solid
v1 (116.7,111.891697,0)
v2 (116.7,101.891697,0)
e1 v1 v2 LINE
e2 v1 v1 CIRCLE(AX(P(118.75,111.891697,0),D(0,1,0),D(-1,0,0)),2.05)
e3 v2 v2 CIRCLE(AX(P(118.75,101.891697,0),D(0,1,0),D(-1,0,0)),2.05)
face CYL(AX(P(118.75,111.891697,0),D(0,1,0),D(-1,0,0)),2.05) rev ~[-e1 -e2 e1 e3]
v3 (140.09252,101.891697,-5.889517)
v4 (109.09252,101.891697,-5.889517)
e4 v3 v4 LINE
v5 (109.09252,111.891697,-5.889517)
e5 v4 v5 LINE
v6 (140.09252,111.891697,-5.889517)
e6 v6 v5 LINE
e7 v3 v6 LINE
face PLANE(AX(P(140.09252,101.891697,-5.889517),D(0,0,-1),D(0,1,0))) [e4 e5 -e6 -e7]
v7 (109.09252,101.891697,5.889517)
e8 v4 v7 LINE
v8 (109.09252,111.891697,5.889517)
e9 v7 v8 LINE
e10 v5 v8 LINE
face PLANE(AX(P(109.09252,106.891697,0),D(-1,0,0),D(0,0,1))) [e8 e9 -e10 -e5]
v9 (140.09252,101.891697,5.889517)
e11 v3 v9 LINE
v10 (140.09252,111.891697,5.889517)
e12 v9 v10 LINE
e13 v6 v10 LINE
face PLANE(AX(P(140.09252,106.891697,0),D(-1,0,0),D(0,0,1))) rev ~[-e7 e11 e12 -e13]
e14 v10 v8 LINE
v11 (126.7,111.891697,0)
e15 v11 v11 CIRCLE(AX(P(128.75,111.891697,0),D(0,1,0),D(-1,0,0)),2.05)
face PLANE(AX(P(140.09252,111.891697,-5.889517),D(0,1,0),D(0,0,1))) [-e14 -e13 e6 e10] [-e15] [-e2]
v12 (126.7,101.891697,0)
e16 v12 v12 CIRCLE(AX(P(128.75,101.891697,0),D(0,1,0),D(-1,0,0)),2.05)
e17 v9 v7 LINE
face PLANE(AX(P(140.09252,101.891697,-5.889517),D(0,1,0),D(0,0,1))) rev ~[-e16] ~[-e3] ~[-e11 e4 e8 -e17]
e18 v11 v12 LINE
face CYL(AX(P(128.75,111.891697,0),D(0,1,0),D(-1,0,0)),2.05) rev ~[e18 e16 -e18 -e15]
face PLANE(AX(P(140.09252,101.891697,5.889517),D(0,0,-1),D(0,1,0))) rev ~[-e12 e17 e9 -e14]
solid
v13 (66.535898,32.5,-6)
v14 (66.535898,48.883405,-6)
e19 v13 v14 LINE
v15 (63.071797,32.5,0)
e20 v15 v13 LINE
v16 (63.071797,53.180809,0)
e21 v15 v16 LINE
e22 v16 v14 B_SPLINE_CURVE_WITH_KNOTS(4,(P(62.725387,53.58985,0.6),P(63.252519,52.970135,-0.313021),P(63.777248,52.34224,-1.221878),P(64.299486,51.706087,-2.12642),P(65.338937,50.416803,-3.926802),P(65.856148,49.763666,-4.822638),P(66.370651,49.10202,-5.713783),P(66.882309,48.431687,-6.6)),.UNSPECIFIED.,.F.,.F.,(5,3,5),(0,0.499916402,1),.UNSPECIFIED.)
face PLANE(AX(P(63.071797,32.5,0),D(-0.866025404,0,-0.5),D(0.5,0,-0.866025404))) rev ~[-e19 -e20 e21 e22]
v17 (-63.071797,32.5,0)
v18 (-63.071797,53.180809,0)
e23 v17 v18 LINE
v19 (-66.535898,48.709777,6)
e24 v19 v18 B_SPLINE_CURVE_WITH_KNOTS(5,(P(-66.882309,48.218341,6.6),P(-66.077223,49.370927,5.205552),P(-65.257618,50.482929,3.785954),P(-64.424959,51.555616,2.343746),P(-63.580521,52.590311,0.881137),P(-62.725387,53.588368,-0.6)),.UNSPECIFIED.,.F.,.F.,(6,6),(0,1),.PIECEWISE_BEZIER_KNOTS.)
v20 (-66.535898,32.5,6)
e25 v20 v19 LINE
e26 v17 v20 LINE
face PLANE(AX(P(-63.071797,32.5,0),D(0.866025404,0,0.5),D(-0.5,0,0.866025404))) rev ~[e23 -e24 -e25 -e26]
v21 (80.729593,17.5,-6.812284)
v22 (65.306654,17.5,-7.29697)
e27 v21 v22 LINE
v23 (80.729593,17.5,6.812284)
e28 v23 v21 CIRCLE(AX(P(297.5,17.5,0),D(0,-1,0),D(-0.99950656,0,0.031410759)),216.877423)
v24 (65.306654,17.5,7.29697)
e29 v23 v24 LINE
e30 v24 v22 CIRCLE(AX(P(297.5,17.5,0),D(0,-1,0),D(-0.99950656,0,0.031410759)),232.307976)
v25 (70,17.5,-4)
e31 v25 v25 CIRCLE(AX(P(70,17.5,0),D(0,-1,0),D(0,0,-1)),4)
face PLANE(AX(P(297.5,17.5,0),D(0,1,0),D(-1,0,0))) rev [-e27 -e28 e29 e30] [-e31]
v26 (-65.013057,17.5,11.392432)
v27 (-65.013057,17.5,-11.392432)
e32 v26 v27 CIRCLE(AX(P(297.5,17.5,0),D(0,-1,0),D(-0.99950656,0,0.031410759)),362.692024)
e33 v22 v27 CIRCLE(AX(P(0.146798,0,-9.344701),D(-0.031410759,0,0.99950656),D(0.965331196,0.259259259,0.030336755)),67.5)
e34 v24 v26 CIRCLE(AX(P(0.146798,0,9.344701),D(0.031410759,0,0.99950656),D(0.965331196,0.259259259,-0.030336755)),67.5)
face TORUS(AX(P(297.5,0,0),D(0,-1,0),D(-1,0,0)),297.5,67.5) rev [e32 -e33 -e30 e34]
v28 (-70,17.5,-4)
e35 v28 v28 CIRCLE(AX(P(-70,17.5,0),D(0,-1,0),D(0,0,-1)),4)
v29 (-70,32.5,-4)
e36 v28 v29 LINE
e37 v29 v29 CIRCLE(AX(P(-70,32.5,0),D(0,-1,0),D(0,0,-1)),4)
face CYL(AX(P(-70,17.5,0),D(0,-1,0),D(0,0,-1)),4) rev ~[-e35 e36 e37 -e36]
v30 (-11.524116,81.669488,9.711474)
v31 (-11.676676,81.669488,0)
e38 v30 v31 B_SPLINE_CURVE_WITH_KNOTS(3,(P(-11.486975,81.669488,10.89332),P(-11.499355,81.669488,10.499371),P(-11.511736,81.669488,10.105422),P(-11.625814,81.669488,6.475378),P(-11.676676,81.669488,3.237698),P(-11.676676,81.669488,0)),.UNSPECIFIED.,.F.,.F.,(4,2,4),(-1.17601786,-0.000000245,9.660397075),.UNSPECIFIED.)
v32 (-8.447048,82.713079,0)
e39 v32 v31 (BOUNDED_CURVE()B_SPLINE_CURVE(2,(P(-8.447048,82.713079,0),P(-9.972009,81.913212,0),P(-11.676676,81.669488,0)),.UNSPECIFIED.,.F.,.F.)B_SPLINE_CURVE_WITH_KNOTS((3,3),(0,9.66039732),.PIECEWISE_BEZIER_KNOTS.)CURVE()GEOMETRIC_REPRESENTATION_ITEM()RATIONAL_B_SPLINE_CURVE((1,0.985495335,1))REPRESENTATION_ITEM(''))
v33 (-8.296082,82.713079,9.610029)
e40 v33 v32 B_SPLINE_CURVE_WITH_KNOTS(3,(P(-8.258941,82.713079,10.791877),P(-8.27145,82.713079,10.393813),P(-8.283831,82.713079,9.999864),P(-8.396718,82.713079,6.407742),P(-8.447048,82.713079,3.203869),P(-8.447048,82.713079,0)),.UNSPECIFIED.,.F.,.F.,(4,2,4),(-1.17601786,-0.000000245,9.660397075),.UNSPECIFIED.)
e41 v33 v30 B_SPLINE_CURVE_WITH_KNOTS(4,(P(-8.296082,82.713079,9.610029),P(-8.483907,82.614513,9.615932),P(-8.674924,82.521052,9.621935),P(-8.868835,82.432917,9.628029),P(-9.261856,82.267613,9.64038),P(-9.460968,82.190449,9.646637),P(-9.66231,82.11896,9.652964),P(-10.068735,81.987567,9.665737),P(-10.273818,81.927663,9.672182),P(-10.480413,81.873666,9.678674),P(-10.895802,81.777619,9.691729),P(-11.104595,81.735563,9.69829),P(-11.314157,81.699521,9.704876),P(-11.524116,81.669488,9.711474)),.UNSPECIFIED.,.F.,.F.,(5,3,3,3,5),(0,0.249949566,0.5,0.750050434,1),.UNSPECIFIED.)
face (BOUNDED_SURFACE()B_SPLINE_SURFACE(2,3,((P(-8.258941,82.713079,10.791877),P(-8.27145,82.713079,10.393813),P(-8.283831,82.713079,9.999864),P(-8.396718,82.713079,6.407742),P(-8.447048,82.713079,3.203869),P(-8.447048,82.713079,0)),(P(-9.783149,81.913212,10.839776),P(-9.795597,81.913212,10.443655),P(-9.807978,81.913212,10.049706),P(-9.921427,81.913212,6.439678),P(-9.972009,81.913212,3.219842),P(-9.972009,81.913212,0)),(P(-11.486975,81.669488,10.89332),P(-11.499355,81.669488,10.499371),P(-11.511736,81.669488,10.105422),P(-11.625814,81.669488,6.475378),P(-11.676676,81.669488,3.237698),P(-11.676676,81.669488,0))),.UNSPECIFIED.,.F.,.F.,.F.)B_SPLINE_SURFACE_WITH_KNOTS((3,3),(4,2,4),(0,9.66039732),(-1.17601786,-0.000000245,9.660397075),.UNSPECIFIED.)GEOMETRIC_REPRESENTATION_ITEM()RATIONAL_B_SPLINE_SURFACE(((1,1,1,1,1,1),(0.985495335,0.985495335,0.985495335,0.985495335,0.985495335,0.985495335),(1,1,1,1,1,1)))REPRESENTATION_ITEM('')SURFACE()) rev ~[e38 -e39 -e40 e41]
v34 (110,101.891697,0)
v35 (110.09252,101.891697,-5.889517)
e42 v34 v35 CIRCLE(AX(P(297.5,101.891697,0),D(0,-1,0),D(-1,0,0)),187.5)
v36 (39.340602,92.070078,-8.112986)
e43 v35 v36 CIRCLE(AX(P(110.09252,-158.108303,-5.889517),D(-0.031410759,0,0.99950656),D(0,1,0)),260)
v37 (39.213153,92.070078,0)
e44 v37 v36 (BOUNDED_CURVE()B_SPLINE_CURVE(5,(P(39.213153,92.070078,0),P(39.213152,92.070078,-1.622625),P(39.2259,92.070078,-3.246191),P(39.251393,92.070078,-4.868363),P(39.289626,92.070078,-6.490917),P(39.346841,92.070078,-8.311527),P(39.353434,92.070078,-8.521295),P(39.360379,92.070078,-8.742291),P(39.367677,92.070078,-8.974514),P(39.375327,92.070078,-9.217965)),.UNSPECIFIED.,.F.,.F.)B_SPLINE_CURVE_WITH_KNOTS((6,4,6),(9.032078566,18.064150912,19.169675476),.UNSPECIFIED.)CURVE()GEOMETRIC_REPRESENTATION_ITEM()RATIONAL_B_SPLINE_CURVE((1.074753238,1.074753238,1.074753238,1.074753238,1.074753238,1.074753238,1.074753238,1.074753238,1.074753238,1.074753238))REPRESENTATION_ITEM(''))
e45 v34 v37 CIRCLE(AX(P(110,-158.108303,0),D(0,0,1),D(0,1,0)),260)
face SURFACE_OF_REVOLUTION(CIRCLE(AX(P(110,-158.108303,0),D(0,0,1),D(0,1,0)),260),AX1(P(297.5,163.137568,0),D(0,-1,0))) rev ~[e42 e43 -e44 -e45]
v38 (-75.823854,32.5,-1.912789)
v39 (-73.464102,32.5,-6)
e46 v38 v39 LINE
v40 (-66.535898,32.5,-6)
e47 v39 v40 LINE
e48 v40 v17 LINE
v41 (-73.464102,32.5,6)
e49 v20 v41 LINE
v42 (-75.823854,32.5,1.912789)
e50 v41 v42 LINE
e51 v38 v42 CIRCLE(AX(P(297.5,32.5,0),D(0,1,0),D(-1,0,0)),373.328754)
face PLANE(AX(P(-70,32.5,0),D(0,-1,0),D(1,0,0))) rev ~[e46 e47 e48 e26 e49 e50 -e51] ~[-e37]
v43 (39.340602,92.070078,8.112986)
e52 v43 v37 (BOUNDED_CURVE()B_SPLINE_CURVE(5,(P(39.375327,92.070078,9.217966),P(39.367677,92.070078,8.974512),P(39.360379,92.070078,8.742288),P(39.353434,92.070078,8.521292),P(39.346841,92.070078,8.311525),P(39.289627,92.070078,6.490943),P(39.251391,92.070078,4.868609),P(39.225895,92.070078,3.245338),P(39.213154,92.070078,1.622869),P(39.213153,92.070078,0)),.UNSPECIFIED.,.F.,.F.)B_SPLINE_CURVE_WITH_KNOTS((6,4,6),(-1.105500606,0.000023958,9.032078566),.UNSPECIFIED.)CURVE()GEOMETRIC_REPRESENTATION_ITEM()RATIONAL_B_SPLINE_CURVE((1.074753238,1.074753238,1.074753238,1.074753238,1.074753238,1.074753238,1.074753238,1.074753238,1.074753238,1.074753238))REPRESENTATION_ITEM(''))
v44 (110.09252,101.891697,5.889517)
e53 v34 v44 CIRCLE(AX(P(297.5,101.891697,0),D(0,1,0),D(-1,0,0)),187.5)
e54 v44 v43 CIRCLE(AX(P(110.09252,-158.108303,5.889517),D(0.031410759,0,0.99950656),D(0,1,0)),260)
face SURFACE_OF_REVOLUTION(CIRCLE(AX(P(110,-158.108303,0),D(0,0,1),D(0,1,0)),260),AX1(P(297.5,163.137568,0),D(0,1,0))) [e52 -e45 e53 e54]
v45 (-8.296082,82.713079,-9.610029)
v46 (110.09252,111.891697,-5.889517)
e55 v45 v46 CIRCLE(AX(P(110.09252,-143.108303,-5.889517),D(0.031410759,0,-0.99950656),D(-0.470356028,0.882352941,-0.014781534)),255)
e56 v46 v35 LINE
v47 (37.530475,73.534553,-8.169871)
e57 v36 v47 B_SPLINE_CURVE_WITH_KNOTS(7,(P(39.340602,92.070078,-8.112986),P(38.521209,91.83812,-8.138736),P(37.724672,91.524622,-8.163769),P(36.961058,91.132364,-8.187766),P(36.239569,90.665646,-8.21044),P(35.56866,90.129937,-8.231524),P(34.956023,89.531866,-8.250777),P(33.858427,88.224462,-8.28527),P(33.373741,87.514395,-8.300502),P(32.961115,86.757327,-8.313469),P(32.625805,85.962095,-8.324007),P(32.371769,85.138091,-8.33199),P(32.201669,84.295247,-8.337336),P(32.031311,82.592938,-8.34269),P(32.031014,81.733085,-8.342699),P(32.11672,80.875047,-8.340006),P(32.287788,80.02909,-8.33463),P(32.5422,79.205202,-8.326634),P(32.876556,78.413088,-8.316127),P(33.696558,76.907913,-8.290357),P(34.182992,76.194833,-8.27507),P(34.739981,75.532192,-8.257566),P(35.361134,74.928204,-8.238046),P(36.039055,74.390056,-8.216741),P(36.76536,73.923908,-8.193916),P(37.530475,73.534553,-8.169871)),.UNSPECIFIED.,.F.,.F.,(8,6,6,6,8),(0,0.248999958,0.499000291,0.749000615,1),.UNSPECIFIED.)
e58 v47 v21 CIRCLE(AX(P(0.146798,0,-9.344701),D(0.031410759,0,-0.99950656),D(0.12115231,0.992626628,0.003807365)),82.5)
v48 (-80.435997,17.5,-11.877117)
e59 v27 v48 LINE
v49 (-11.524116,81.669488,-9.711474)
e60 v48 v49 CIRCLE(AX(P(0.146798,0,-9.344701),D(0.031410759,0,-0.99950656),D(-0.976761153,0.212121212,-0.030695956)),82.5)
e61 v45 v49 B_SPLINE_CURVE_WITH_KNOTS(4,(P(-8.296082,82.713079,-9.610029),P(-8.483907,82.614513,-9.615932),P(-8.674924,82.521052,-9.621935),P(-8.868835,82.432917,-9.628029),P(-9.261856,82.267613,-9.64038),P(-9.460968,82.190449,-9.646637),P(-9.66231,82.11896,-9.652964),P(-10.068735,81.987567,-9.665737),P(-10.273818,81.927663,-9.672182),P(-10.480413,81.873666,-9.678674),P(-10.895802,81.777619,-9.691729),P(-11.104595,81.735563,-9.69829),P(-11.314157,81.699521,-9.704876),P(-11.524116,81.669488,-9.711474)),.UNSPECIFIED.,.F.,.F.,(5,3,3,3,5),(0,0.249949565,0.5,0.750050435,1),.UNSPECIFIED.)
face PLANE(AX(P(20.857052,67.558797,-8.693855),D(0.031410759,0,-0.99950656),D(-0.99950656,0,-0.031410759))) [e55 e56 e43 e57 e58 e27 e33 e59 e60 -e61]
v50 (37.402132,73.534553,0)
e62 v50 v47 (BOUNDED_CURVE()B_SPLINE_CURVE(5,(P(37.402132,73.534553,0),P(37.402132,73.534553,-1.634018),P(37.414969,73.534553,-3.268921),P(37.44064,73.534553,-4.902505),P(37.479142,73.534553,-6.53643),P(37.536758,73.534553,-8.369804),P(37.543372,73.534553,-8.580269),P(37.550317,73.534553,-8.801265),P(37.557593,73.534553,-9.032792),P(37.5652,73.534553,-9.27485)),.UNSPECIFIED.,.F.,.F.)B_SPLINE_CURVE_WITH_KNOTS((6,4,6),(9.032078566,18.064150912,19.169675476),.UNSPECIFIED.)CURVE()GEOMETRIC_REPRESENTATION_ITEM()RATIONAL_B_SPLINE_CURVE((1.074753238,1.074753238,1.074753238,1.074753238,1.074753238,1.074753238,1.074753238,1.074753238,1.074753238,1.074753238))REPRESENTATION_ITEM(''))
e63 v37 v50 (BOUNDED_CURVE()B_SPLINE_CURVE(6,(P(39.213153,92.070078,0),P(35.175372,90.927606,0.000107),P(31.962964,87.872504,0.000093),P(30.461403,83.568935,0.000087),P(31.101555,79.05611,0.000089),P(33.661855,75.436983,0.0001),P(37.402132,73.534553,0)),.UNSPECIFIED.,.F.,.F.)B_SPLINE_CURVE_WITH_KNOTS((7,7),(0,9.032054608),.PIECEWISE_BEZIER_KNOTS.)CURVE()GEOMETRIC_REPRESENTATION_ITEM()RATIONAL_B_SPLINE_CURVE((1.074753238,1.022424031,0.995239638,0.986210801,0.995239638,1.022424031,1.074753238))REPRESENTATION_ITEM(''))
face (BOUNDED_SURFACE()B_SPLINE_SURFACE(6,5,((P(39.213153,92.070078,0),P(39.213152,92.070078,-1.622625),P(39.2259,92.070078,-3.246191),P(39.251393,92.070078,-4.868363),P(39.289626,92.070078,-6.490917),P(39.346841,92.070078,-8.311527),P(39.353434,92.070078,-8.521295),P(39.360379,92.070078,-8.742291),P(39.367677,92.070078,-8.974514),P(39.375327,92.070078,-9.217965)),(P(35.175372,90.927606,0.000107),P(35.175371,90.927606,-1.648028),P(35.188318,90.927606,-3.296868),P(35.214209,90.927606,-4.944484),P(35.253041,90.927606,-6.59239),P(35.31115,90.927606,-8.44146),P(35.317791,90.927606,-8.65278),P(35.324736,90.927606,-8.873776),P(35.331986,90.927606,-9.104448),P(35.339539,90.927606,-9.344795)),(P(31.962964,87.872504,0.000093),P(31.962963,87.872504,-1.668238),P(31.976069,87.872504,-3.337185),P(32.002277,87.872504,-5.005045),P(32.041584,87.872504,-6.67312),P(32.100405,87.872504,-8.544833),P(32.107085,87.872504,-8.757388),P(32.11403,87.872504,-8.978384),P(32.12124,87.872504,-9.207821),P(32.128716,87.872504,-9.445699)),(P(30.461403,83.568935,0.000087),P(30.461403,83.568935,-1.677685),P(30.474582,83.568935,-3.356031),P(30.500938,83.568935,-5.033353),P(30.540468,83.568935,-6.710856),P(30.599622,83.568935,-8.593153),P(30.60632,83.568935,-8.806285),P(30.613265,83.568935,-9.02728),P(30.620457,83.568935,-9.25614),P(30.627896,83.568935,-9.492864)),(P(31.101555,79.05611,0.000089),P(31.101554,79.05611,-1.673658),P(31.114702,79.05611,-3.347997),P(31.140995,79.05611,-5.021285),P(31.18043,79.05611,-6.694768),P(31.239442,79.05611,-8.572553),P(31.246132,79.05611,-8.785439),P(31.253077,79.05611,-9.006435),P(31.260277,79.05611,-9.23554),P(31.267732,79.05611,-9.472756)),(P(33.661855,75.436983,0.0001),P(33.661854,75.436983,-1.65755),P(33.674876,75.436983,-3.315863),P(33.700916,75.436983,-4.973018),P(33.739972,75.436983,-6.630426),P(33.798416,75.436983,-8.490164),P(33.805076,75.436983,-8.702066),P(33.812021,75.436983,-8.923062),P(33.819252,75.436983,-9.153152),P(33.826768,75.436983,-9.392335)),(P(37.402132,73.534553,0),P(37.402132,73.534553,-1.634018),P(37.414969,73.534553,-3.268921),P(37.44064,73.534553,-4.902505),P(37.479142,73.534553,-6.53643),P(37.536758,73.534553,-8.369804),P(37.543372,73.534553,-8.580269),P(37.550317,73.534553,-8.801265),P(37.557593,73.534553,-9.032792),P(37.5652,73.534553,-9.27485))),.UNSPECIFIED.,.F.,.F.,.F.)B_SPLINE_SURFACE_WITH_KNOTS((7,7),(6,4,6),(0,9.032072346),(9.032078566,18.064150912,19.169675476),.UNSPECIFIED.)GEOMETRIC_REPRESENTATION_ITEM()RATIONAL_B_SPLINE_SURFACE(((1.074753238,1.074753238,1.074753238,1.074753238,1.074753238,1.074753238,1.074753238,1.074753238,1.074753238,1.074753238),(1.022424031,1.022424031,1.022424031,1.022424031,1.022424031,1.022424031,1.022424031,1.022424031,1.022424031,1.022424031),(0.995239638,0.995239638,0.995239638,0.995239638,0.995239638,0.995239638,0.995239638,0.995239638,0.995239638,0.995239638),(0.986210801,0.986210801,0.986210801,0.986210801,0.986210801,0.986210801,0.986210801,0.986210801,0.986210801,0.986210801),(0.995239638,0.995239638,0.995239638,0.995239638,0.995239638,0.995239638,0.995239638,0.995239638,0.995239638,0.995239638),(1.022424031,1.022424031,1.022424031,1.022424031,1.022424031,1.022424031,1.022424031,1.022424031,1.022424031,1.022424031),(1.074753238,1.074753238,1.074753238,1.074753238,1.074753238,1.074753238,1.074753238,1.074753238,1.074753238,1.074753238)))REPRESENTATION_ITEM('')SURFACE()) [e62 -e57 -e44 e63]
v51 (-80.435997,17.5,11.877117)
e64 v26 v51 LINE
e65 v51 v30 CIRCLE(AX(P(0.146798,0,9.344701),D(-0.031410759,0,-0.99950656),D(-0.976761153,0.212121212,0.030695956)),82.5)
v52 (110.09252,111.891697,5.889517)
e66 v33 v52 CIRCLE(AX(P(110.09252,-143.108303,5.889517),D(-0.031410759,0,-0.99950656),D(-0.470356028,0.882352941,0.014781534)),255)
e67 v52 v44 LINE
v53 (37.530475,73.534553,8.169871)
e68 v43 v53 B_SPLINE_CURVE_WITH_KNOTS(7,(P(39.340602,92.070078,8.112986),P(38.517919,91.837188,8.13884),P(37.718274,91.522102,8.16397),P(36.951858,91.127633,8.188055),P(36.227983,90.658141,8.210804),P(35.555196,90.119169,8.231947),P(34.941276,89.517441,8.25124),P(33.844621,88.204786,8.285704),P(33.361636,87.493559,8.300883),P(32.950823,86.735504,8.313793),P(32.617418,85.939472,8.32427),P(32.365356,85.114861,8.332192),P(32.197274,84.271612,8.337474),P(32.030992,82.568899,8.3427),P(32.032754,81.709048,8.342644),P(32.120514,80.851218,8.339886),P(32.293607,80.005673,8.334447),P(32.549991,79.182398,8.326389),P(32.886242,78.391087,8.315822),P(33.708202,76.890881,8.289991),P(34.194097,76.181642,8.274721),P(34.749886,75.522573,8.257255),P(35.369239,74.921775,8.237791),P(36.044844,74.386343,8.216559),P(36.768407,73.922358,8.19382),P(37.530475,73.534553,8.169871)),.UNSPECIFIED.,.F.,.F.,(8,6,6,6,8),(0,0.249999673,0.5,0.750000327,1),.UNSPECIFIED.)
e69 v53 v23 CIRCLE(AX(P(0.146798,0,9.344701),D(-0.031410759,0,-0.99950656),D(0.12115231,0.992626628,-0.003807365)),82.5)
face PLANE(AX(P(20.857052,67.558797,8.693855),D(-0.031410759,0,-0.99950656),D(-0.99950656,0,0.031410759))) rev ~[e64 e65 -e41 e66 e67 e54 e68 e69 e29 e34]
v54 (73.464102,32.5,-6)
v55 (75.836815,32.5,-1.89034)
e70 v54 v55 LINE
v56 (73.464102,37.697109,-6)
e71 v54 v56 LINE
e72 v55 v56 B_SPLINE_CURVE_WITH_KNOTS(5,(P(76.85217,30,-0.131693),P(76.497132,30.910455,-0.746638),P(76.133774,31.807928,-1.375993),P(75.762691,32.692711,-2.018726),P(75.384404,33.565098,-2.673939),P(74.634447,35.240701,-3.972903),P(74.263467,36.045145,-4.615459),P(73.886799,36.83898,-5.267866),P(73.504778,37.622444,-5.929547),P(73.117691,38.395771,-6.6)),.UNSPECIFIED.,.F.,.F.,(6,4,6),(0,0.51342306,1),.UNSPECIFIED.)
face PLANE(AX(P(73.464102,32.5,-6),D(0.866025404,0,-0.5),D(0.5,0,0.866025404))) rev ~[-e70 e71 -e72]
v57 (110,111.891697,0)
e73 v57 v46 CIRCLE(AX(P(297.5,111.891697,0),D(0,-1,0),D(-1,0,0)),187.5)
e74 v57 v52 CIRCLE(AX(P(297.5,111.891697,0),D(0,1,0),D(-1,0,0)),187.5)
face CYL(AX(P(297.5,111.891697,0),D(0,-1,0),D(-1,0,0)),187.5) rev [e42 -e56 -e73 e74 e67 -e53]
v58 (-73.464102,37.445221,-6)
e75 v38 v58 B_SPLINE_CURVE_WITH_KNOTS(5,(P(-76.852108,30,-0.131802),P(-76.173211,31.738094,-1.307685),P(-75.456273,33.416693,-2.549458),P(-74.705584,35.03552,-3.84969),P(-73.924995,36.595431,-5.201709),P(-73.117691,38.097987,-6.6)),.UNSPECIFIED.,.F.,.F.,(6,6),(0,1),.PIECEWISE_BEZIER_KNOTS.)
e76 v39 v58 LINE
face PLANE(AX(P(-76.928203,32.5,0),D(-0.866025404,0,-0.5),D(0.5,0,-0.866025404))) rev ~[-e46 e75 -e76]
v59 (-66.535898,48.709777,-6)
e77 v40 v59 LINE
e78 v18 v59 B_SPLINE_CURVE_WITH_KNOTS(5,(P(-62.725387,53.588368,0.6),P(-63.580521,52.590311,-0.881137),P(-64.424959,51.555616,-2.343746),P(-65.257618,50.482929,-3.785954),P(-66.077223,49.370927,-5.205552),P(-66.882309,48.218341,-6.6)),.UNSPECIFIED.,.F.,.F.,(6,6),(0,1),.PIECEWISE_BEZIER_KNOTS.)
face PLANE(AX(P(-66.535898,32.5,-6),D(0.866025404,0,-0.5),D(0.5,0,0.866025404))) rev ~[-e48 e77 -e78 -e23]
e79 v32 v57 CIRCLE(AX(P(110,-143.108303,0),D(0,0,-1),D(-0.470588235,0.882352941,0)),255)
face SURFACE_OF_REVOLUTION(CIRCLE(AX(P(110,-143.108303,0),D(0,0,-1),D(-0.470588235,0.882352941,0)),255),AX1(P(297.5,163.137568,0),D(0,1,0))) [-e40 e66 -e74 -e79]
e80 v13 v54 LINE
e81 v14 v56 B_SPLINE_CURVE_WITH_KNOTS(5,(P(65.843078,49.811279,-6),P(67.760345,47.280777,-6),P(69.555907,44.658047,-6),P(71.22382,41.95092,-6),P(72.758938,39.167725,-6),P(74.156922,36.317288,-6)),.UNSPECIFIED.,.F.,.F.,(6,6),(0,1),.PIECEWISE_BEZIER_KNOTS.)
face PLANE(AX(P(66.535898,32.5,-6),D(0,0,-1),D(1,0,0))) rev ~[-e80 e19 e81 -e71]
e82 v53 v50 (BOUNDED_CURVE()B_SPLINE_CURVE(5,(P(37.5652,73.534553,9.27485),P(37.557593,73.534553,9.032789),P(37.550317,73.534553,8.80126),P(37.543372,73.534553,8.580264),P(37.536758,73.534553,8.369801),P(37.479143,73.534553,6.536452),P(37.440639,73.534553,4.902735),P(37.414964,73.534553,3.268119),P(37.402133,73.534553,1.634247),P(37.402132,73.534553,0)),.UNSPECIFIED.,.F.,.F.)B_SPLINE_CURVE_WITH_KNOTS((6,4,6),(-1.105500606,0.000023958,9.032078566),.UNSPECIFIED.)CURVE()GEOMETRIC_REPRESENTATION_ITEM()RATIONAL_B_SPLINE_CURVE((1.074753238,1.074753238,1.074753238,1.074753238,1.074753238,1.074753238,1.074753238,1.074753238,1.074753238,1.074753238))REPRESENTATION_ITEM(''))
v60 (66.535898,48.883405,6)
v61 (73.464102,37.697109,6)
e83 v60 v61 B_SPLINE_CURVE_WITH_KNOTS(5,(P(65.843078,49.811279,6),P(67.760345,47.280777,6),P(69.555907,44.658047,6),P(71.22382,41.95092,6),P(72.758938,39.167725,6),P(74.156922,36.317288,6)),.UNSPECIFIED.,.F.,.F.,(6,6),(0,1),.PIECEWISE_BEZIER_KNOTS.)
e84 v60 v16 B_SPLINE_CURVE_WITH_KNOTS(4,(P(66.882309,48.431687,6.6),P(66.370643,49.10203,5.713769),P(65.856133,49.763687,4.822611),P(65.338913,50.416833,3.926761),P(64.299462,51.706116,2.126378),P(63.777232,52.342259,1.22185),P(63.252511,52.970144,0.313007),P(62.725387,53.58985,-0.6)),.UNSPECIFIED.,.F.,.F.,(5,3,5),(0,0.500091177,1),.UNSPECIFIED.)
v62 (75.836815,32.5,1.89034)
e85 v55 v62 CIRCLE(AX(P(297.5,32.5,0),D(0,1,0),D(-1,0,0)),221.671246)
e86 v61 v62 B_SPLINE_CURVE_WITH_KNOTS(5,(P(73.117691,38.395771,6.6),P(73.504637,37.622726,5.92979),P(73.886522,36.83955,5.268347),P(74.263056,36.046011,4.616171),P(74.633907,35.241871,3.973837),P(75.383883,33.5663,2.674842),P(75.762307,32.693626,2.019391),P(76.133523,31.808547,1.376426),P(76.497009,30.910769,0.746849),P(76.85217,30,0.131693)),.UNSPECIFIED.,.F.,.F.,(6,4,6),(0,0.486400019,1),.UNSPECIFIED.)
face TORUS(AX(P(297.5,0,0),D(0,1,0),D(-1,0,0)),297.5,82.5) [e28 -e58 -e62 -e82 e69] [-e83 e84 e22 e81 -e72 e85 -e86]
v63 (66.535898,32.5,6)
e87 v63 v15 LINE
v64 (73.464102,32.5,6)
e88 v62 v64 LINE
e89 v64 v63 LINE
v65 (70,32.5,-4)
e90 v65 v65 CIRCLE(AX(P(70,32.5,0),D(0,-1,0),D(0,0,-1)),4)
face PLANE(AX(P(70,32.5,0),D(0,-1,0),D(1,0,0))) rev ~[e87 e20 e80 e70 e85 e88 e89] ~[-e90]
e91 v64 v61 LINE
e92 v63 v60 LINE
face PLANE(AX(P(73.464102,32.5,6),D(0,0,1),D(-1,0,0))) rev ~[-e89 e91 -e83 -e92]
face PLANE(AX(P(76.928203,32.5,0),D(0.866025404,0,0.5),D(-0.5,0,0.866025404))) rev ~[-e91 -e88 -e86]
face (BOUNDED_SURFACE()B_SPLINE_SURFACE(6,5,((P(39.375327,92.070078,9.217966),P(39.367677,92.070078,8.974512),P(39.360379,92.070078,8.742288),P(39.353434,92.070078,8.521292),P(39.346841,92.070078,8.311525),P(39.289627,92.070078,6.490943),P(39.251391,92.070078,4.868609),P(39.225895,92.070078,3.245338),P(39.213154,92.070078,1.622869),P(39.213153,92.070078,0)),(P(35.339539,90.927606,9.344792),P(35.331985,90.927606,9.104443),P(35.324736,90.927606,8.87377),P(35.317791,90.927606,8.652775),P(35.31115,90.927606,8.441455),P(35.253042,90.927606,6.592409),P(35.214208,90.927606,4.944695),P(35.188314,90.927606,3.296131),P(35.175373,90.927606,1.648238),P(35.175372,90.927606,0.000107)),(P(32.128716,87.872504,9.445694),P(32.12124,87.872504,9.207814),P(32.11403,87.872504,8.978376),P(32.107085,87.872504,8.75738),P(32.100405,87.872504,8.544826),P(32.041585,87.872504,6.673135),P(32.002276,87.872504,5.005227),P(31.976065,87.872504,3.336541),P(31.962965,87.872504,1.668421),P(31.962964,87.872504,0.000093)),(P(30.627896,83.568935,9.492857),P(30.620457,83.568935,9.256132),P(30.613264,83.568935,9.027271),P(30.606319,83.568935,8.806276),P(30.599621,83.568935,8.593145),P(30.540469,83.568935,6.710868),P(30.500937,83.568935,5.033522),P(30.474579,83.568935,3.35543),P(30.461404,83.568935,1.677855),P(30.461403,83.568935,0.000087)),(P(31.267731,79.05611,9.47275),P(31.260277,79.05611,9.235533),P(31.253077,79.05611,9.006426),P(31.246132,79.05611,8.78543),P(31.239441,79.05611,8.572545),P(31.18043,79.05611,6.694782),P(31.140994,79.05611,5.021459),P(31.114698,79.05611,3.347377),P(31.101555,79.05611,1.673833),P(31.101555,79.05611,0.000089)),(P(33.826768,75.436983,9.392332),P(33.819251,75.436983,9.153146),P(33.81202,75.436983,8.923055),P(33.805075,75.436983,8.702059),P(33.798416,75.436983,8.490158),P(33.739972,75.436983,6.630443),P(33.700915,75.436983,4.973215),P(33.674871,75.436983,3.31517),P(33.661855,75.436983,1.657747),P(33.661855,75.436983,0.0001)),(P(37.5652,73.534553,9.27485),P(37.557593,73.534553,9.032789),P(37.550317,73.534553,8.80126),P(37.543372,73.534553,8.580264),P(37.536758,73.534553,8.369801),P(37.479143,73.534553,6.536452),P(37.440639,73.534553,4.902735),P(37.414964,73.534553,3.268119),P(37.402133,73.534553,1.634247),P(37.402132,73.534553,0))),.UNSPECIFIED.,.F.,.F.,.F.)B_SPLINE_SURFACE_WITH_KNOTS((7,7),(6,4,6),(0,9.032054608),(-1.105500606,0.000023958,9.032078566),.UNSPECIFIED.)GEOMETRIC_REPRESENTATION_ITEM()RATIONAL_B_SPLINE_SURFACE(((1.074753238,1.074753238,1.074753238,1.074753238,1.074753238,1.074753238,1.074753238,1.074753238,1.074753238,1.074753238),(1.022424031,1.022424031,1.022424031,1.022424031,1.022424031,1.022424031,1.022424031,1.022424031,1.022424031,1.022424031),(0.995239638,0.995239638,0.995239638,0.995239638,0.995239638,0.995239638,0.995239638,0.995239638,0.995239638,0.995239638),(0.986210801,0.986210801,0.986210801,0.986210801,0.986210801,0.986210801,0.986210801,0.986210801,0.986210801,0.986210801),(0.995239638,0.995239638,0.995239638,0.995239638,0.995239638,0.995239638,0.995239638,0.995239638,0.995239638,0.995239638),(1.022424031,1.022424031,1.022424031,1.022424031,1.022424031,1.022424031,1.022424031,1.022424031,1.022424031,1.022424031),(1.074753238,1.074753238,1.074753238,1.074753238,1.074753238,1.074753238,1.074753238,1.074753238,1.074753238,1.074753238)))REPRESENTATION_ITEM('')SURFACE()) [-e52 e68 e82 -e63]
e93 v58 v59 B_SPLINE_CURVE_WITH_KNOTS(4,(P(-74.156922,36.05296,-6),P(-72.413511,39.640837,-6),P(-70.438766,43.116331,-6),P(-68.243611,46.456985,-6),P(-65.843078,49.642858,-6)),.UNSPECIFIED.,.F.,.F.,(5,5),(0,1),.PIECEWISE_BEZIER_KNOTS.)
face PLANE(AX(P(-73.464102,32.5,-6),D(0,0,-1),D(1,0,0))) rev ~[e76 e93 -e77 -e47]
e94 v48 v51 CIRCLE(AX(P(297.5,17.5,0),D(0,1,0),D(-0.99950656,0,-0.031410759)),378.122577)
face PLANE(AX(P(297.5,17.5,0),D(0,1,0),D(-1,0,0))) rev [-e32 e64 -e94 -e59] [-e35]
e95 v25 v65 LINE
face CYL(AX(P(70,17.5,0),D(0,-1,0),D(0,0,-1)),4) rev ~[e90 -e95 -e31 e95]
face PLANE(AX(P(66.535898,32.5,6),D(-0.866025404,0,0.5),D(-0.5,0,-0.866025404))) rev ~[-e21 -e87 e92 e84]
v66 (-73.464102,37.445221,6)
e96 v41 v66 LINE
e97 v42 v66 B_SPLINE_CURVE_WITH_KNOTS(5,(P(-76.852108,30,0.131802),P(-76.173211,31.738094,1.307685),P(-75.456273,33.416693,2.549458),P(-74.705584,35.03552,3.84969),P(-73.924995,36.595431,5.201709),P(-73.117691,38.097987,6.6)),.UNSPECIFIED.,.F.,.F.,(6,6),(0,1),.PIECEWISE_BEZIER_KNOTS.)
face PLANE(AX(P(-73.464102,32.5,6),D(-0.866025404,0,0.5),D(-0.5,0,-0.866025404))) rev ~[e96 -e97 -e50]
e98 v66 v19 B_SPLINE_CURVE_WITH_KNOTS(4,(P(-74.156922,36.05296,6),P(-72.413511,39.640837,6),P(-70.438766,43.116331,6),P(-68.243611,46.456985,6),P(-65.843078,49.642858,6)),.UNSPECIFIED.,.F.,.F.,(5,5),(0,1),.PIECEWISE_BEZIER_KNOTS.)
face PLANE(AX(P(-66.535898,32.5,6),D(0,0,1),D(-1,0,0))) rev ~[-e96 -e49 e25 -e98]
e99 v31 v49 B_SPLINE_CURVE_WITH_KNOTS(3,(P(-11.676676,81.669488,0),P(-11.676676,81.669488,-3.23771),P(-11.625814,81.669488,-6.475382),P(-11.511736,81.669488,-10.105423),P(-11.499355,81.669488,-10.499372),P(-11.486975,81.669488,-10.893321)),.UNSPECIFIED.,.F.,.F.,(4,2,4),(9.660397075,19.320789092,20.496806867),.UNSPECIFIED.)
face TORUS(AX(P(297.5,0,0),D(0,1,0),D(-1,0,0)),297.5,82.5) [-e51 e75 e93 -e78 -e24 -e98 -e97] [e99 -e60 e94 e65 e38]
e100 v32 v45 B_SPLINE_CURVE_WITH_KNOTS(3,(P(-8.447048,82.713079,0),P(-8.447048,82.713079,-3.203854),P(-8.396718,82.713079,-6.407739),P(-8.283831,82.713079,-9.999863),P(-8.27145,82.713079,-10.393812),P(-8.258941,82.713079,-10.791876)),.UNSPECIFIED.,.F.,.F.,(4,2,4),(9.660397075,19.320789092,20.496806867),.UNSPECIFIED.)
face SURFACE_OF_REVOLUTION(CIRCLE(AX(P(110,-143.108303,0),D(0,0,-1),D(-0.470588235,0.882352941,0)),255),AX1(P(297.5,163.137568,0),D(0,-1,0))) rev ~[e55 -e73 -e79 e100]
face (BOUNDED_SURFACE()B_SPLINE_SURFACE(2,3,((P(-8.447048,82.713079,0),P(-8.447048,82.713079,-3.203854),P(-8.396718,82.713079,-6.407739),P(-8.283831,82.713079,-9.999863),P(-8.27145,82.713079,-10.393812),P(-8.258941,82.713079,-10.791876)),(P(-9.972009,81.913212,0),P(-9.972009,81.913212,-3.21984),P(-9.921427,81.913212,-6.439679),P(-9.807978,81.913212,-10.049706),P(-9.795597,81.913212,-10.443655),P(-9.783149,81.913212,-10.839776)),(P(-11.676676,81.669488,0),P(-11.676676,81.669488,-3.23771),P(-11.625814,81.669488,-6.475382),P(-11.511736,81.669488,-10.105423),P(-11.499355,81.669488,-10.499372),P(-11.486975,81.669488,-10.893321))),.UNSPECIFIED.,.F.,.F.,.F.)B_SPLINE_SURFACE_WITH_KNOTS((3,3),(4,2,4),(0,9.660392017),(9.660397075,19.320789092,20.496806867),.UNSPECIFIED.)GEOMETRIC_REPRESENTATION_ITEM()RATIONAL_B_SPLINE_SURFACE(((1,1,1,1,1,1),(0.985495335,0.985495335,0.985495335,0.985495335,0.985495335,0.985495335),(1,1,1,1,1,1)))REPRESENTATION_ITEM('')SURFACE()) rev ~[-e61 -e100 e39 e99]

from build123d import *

# Parameters (mm, degrees)
REVOLVE_3_ANGLE           = 1.8
REVOLVE_3_OTHER_WAY_ANGLE = 1.8
CUT_EXTRUDE_1_REACH       = 147.503
SKETCH_9_R                = 4
FILLET_3_R                = 10
EXTRUDE_1_DEPTH           = 1
EXTRUDE_1_DEPTH_BACK      = 30
SKETCH_12_W               = 11.779034654
SKETCH_12_H               = 10
SKETCH_15_R               = 2.05
CUT_EXTRUDE_3_DEPTH       = 20
CUT_EXTRUDE_START         = -15
CUT_EXTRUDE_4_DEPTH       = 25


with BuildPart() as part:
    # 草图1 → 旋转3 (revolve)
    with BuildSketch(Plane.XY):
        with BuildLine():
            Line((110, 111.891696771), (110, 101.891696771))
            ThreePointArc((110, 101.891696771), (59.009804864, 96.84267245), (10, 81.891696771))
            ThreePointArc((10, 81.891696771), (55.584939873, 60.963632268), (80.622577483, 17.5))
            Line((80.622577483, 17.5), (65.192024052, 17.5))
            ThreePointArc((65.192024052, 17.5), (0, 67.5), (-65.192024052, 17.5))
            Line((-65.192024052, 17.5), (-80.622577483, 17.5))
            ThreePointArc((-80.622577483, 17.5), (-55.584939873, 60.963632268), (-10, 81.891696771))
            ThreePointArc((-10, 81.891696771), (48.153415616, 104.278034308), (110, 111.891696771))
        make_face()
    revolve(axis=Axis((297.5, 163.137568082, 0), (0, -1, 0)), revolution_arc=REVOLVE_3_ANGLE)

    # 草图1 → 旋转3 other way (revolve)
    with BuildSketch(Plane.XY):
        with BuildLine():
            Line((110, 111.891696771), (110, 101.891696771))
            ThreePointArc((110, 101.891696771), (59.009804864, 96.84267245), (10, 81.891696771))
            ThreePointArc((10, 81.891696771), (55.584939873, 60.963632268), (80.622577483, 17.5))
            Line((80.622577483, 17.5), (65.192024052, 17.5))
            ThreePointArc((65.192024052, 17.5), (0, 67.5), (-65.192024052, 17.5))
            Line((-65.192024052, 17.5), (-80.622577483, 17.5))
            ThreePointArc((-80.622577483, 17.5), (-55.584939873, 60.963632268), (-10, 81.891696771))
            ThreePointArc((-10, 81.891696771), (48.153415616, 104.278034308), (110, 111.891696771))
        make_face()
    revolve(axis=Axis((297.5, 163.137568082, 0), (0, 1, 0)), revolution_arc=REVOLVE_3_OTHER_WAY_ANGLE)

    # 草图9 → 切除-拉伸1 (cut, up to next)
    with BuildSketch(Plane.XZ.offset(-17.5), mode=Mode.PRIVATE) as cut_extrude_1_sk1:
        with Locations(Location((-70, 0, 0), (0, 0, 270))):
            Circle(SKETCH_9_R)
    cut_extrude_1_tool1 = extrude(cut_extrude_1_sk1.sketch, amount=-CUT_EXTRUDE_1_REACH, mode=Mode.PRIVATE) & part.part
    # 草图9 → 切除-拉伸1 (cut, up to next)
    with BuildSketch(Plane.XZ.offset(-17.5), mode=Mode.PRIVATE) as cut_extrude_1_sk2:
        with Locations(Location((70, 0, 0), (0, 0, 270))):
            Circle(SKETCH_9_R)
    cut_extrude_1_tool2 = extrude(cut_extrude_1_sk2.sketch, amount=-CUT_EXTRUDE_1_REACH, mode=Mode.PRIVATE) & part.part
    add(cut_extrude_1_tool1.solids().sort_by_distance((-70, 17.5, 0))[0], mode=Mode.SUBTRACT)
    add(cut_extrude_1_tool2.solids().sort_by_distance((70, 17.5, 0))[0], mode=Mode.SUBTRACT)

    # 圆角3
    fillet_3_edges = [part.edges().sort_by_distance(p)[0] for p in [
        (10.035468162, 81.891696771, -4.515853727),
        (-9.962064488, 81.891696771, -4.830000073),
    ]]
    fillet(fillet_3_edges, radius=FILLET_3_R)

    # 草图16 → 切除-拉伸4 (cut)
    with BuildSketch(Plane.XZ.offset(-17.5).offset(CUT_EXTRUDE_START)):
        Polygon((-63.07179677, 0), (-66.535898385, 6), (-73.464101615, 6), (-76.92820323, 0), (-73.464101615, -6), (-66.535898385, -6), align=None)
        Polygon((76.92820323, 0), (73.464101615, 6), (66.535898385, 6), (63.07179677, 0), (66.535898385, -6), (73.464101615, -6), align=None)
    extrude(amount=-CUT_EXTRUDE_4_DEPTH, mode=Mode.SUBTRACT)


with BuildPart() as body_2:
    # 草图12 → 凸台-拉伸1 (new, two sides: drawn at the far end of the back side and taken through both)
    with BuildSketch(Plane.ZY.offset(-110.092519931).offset(-EXTRUDE_1_DEPTH_BACK)):
        with Locations((0, 106.891696771)):
            Rectangle(SKETCH_12_W, SKETCH_12_H)
    extrude(amount=EXTRUDE_1_DEPTH + EXTRUDE_1_DEPTH_BACK)

    # 草图15 → 切除-拉伸3 (cut)
    with BuildSketch(Plane(origin=(0, 111.891696771, 0), x_dir=(1, 0, 0), z_dir=(0, 1, 0))):
        with Locations(Location((128.75, 0, 0), (0, 0, 180))):
            Circle(SKETCH_15_R)
        with Locations(Location((118.75, 0, 0), (0, 0, 180))):
            Circle(SKETCH_15_R)
    extrude(amount=-CUT_EXTRUDE_3_DEPTH, mode=Mode.SUBTRACT)


solid = Compound([part.part, body_2.part])
